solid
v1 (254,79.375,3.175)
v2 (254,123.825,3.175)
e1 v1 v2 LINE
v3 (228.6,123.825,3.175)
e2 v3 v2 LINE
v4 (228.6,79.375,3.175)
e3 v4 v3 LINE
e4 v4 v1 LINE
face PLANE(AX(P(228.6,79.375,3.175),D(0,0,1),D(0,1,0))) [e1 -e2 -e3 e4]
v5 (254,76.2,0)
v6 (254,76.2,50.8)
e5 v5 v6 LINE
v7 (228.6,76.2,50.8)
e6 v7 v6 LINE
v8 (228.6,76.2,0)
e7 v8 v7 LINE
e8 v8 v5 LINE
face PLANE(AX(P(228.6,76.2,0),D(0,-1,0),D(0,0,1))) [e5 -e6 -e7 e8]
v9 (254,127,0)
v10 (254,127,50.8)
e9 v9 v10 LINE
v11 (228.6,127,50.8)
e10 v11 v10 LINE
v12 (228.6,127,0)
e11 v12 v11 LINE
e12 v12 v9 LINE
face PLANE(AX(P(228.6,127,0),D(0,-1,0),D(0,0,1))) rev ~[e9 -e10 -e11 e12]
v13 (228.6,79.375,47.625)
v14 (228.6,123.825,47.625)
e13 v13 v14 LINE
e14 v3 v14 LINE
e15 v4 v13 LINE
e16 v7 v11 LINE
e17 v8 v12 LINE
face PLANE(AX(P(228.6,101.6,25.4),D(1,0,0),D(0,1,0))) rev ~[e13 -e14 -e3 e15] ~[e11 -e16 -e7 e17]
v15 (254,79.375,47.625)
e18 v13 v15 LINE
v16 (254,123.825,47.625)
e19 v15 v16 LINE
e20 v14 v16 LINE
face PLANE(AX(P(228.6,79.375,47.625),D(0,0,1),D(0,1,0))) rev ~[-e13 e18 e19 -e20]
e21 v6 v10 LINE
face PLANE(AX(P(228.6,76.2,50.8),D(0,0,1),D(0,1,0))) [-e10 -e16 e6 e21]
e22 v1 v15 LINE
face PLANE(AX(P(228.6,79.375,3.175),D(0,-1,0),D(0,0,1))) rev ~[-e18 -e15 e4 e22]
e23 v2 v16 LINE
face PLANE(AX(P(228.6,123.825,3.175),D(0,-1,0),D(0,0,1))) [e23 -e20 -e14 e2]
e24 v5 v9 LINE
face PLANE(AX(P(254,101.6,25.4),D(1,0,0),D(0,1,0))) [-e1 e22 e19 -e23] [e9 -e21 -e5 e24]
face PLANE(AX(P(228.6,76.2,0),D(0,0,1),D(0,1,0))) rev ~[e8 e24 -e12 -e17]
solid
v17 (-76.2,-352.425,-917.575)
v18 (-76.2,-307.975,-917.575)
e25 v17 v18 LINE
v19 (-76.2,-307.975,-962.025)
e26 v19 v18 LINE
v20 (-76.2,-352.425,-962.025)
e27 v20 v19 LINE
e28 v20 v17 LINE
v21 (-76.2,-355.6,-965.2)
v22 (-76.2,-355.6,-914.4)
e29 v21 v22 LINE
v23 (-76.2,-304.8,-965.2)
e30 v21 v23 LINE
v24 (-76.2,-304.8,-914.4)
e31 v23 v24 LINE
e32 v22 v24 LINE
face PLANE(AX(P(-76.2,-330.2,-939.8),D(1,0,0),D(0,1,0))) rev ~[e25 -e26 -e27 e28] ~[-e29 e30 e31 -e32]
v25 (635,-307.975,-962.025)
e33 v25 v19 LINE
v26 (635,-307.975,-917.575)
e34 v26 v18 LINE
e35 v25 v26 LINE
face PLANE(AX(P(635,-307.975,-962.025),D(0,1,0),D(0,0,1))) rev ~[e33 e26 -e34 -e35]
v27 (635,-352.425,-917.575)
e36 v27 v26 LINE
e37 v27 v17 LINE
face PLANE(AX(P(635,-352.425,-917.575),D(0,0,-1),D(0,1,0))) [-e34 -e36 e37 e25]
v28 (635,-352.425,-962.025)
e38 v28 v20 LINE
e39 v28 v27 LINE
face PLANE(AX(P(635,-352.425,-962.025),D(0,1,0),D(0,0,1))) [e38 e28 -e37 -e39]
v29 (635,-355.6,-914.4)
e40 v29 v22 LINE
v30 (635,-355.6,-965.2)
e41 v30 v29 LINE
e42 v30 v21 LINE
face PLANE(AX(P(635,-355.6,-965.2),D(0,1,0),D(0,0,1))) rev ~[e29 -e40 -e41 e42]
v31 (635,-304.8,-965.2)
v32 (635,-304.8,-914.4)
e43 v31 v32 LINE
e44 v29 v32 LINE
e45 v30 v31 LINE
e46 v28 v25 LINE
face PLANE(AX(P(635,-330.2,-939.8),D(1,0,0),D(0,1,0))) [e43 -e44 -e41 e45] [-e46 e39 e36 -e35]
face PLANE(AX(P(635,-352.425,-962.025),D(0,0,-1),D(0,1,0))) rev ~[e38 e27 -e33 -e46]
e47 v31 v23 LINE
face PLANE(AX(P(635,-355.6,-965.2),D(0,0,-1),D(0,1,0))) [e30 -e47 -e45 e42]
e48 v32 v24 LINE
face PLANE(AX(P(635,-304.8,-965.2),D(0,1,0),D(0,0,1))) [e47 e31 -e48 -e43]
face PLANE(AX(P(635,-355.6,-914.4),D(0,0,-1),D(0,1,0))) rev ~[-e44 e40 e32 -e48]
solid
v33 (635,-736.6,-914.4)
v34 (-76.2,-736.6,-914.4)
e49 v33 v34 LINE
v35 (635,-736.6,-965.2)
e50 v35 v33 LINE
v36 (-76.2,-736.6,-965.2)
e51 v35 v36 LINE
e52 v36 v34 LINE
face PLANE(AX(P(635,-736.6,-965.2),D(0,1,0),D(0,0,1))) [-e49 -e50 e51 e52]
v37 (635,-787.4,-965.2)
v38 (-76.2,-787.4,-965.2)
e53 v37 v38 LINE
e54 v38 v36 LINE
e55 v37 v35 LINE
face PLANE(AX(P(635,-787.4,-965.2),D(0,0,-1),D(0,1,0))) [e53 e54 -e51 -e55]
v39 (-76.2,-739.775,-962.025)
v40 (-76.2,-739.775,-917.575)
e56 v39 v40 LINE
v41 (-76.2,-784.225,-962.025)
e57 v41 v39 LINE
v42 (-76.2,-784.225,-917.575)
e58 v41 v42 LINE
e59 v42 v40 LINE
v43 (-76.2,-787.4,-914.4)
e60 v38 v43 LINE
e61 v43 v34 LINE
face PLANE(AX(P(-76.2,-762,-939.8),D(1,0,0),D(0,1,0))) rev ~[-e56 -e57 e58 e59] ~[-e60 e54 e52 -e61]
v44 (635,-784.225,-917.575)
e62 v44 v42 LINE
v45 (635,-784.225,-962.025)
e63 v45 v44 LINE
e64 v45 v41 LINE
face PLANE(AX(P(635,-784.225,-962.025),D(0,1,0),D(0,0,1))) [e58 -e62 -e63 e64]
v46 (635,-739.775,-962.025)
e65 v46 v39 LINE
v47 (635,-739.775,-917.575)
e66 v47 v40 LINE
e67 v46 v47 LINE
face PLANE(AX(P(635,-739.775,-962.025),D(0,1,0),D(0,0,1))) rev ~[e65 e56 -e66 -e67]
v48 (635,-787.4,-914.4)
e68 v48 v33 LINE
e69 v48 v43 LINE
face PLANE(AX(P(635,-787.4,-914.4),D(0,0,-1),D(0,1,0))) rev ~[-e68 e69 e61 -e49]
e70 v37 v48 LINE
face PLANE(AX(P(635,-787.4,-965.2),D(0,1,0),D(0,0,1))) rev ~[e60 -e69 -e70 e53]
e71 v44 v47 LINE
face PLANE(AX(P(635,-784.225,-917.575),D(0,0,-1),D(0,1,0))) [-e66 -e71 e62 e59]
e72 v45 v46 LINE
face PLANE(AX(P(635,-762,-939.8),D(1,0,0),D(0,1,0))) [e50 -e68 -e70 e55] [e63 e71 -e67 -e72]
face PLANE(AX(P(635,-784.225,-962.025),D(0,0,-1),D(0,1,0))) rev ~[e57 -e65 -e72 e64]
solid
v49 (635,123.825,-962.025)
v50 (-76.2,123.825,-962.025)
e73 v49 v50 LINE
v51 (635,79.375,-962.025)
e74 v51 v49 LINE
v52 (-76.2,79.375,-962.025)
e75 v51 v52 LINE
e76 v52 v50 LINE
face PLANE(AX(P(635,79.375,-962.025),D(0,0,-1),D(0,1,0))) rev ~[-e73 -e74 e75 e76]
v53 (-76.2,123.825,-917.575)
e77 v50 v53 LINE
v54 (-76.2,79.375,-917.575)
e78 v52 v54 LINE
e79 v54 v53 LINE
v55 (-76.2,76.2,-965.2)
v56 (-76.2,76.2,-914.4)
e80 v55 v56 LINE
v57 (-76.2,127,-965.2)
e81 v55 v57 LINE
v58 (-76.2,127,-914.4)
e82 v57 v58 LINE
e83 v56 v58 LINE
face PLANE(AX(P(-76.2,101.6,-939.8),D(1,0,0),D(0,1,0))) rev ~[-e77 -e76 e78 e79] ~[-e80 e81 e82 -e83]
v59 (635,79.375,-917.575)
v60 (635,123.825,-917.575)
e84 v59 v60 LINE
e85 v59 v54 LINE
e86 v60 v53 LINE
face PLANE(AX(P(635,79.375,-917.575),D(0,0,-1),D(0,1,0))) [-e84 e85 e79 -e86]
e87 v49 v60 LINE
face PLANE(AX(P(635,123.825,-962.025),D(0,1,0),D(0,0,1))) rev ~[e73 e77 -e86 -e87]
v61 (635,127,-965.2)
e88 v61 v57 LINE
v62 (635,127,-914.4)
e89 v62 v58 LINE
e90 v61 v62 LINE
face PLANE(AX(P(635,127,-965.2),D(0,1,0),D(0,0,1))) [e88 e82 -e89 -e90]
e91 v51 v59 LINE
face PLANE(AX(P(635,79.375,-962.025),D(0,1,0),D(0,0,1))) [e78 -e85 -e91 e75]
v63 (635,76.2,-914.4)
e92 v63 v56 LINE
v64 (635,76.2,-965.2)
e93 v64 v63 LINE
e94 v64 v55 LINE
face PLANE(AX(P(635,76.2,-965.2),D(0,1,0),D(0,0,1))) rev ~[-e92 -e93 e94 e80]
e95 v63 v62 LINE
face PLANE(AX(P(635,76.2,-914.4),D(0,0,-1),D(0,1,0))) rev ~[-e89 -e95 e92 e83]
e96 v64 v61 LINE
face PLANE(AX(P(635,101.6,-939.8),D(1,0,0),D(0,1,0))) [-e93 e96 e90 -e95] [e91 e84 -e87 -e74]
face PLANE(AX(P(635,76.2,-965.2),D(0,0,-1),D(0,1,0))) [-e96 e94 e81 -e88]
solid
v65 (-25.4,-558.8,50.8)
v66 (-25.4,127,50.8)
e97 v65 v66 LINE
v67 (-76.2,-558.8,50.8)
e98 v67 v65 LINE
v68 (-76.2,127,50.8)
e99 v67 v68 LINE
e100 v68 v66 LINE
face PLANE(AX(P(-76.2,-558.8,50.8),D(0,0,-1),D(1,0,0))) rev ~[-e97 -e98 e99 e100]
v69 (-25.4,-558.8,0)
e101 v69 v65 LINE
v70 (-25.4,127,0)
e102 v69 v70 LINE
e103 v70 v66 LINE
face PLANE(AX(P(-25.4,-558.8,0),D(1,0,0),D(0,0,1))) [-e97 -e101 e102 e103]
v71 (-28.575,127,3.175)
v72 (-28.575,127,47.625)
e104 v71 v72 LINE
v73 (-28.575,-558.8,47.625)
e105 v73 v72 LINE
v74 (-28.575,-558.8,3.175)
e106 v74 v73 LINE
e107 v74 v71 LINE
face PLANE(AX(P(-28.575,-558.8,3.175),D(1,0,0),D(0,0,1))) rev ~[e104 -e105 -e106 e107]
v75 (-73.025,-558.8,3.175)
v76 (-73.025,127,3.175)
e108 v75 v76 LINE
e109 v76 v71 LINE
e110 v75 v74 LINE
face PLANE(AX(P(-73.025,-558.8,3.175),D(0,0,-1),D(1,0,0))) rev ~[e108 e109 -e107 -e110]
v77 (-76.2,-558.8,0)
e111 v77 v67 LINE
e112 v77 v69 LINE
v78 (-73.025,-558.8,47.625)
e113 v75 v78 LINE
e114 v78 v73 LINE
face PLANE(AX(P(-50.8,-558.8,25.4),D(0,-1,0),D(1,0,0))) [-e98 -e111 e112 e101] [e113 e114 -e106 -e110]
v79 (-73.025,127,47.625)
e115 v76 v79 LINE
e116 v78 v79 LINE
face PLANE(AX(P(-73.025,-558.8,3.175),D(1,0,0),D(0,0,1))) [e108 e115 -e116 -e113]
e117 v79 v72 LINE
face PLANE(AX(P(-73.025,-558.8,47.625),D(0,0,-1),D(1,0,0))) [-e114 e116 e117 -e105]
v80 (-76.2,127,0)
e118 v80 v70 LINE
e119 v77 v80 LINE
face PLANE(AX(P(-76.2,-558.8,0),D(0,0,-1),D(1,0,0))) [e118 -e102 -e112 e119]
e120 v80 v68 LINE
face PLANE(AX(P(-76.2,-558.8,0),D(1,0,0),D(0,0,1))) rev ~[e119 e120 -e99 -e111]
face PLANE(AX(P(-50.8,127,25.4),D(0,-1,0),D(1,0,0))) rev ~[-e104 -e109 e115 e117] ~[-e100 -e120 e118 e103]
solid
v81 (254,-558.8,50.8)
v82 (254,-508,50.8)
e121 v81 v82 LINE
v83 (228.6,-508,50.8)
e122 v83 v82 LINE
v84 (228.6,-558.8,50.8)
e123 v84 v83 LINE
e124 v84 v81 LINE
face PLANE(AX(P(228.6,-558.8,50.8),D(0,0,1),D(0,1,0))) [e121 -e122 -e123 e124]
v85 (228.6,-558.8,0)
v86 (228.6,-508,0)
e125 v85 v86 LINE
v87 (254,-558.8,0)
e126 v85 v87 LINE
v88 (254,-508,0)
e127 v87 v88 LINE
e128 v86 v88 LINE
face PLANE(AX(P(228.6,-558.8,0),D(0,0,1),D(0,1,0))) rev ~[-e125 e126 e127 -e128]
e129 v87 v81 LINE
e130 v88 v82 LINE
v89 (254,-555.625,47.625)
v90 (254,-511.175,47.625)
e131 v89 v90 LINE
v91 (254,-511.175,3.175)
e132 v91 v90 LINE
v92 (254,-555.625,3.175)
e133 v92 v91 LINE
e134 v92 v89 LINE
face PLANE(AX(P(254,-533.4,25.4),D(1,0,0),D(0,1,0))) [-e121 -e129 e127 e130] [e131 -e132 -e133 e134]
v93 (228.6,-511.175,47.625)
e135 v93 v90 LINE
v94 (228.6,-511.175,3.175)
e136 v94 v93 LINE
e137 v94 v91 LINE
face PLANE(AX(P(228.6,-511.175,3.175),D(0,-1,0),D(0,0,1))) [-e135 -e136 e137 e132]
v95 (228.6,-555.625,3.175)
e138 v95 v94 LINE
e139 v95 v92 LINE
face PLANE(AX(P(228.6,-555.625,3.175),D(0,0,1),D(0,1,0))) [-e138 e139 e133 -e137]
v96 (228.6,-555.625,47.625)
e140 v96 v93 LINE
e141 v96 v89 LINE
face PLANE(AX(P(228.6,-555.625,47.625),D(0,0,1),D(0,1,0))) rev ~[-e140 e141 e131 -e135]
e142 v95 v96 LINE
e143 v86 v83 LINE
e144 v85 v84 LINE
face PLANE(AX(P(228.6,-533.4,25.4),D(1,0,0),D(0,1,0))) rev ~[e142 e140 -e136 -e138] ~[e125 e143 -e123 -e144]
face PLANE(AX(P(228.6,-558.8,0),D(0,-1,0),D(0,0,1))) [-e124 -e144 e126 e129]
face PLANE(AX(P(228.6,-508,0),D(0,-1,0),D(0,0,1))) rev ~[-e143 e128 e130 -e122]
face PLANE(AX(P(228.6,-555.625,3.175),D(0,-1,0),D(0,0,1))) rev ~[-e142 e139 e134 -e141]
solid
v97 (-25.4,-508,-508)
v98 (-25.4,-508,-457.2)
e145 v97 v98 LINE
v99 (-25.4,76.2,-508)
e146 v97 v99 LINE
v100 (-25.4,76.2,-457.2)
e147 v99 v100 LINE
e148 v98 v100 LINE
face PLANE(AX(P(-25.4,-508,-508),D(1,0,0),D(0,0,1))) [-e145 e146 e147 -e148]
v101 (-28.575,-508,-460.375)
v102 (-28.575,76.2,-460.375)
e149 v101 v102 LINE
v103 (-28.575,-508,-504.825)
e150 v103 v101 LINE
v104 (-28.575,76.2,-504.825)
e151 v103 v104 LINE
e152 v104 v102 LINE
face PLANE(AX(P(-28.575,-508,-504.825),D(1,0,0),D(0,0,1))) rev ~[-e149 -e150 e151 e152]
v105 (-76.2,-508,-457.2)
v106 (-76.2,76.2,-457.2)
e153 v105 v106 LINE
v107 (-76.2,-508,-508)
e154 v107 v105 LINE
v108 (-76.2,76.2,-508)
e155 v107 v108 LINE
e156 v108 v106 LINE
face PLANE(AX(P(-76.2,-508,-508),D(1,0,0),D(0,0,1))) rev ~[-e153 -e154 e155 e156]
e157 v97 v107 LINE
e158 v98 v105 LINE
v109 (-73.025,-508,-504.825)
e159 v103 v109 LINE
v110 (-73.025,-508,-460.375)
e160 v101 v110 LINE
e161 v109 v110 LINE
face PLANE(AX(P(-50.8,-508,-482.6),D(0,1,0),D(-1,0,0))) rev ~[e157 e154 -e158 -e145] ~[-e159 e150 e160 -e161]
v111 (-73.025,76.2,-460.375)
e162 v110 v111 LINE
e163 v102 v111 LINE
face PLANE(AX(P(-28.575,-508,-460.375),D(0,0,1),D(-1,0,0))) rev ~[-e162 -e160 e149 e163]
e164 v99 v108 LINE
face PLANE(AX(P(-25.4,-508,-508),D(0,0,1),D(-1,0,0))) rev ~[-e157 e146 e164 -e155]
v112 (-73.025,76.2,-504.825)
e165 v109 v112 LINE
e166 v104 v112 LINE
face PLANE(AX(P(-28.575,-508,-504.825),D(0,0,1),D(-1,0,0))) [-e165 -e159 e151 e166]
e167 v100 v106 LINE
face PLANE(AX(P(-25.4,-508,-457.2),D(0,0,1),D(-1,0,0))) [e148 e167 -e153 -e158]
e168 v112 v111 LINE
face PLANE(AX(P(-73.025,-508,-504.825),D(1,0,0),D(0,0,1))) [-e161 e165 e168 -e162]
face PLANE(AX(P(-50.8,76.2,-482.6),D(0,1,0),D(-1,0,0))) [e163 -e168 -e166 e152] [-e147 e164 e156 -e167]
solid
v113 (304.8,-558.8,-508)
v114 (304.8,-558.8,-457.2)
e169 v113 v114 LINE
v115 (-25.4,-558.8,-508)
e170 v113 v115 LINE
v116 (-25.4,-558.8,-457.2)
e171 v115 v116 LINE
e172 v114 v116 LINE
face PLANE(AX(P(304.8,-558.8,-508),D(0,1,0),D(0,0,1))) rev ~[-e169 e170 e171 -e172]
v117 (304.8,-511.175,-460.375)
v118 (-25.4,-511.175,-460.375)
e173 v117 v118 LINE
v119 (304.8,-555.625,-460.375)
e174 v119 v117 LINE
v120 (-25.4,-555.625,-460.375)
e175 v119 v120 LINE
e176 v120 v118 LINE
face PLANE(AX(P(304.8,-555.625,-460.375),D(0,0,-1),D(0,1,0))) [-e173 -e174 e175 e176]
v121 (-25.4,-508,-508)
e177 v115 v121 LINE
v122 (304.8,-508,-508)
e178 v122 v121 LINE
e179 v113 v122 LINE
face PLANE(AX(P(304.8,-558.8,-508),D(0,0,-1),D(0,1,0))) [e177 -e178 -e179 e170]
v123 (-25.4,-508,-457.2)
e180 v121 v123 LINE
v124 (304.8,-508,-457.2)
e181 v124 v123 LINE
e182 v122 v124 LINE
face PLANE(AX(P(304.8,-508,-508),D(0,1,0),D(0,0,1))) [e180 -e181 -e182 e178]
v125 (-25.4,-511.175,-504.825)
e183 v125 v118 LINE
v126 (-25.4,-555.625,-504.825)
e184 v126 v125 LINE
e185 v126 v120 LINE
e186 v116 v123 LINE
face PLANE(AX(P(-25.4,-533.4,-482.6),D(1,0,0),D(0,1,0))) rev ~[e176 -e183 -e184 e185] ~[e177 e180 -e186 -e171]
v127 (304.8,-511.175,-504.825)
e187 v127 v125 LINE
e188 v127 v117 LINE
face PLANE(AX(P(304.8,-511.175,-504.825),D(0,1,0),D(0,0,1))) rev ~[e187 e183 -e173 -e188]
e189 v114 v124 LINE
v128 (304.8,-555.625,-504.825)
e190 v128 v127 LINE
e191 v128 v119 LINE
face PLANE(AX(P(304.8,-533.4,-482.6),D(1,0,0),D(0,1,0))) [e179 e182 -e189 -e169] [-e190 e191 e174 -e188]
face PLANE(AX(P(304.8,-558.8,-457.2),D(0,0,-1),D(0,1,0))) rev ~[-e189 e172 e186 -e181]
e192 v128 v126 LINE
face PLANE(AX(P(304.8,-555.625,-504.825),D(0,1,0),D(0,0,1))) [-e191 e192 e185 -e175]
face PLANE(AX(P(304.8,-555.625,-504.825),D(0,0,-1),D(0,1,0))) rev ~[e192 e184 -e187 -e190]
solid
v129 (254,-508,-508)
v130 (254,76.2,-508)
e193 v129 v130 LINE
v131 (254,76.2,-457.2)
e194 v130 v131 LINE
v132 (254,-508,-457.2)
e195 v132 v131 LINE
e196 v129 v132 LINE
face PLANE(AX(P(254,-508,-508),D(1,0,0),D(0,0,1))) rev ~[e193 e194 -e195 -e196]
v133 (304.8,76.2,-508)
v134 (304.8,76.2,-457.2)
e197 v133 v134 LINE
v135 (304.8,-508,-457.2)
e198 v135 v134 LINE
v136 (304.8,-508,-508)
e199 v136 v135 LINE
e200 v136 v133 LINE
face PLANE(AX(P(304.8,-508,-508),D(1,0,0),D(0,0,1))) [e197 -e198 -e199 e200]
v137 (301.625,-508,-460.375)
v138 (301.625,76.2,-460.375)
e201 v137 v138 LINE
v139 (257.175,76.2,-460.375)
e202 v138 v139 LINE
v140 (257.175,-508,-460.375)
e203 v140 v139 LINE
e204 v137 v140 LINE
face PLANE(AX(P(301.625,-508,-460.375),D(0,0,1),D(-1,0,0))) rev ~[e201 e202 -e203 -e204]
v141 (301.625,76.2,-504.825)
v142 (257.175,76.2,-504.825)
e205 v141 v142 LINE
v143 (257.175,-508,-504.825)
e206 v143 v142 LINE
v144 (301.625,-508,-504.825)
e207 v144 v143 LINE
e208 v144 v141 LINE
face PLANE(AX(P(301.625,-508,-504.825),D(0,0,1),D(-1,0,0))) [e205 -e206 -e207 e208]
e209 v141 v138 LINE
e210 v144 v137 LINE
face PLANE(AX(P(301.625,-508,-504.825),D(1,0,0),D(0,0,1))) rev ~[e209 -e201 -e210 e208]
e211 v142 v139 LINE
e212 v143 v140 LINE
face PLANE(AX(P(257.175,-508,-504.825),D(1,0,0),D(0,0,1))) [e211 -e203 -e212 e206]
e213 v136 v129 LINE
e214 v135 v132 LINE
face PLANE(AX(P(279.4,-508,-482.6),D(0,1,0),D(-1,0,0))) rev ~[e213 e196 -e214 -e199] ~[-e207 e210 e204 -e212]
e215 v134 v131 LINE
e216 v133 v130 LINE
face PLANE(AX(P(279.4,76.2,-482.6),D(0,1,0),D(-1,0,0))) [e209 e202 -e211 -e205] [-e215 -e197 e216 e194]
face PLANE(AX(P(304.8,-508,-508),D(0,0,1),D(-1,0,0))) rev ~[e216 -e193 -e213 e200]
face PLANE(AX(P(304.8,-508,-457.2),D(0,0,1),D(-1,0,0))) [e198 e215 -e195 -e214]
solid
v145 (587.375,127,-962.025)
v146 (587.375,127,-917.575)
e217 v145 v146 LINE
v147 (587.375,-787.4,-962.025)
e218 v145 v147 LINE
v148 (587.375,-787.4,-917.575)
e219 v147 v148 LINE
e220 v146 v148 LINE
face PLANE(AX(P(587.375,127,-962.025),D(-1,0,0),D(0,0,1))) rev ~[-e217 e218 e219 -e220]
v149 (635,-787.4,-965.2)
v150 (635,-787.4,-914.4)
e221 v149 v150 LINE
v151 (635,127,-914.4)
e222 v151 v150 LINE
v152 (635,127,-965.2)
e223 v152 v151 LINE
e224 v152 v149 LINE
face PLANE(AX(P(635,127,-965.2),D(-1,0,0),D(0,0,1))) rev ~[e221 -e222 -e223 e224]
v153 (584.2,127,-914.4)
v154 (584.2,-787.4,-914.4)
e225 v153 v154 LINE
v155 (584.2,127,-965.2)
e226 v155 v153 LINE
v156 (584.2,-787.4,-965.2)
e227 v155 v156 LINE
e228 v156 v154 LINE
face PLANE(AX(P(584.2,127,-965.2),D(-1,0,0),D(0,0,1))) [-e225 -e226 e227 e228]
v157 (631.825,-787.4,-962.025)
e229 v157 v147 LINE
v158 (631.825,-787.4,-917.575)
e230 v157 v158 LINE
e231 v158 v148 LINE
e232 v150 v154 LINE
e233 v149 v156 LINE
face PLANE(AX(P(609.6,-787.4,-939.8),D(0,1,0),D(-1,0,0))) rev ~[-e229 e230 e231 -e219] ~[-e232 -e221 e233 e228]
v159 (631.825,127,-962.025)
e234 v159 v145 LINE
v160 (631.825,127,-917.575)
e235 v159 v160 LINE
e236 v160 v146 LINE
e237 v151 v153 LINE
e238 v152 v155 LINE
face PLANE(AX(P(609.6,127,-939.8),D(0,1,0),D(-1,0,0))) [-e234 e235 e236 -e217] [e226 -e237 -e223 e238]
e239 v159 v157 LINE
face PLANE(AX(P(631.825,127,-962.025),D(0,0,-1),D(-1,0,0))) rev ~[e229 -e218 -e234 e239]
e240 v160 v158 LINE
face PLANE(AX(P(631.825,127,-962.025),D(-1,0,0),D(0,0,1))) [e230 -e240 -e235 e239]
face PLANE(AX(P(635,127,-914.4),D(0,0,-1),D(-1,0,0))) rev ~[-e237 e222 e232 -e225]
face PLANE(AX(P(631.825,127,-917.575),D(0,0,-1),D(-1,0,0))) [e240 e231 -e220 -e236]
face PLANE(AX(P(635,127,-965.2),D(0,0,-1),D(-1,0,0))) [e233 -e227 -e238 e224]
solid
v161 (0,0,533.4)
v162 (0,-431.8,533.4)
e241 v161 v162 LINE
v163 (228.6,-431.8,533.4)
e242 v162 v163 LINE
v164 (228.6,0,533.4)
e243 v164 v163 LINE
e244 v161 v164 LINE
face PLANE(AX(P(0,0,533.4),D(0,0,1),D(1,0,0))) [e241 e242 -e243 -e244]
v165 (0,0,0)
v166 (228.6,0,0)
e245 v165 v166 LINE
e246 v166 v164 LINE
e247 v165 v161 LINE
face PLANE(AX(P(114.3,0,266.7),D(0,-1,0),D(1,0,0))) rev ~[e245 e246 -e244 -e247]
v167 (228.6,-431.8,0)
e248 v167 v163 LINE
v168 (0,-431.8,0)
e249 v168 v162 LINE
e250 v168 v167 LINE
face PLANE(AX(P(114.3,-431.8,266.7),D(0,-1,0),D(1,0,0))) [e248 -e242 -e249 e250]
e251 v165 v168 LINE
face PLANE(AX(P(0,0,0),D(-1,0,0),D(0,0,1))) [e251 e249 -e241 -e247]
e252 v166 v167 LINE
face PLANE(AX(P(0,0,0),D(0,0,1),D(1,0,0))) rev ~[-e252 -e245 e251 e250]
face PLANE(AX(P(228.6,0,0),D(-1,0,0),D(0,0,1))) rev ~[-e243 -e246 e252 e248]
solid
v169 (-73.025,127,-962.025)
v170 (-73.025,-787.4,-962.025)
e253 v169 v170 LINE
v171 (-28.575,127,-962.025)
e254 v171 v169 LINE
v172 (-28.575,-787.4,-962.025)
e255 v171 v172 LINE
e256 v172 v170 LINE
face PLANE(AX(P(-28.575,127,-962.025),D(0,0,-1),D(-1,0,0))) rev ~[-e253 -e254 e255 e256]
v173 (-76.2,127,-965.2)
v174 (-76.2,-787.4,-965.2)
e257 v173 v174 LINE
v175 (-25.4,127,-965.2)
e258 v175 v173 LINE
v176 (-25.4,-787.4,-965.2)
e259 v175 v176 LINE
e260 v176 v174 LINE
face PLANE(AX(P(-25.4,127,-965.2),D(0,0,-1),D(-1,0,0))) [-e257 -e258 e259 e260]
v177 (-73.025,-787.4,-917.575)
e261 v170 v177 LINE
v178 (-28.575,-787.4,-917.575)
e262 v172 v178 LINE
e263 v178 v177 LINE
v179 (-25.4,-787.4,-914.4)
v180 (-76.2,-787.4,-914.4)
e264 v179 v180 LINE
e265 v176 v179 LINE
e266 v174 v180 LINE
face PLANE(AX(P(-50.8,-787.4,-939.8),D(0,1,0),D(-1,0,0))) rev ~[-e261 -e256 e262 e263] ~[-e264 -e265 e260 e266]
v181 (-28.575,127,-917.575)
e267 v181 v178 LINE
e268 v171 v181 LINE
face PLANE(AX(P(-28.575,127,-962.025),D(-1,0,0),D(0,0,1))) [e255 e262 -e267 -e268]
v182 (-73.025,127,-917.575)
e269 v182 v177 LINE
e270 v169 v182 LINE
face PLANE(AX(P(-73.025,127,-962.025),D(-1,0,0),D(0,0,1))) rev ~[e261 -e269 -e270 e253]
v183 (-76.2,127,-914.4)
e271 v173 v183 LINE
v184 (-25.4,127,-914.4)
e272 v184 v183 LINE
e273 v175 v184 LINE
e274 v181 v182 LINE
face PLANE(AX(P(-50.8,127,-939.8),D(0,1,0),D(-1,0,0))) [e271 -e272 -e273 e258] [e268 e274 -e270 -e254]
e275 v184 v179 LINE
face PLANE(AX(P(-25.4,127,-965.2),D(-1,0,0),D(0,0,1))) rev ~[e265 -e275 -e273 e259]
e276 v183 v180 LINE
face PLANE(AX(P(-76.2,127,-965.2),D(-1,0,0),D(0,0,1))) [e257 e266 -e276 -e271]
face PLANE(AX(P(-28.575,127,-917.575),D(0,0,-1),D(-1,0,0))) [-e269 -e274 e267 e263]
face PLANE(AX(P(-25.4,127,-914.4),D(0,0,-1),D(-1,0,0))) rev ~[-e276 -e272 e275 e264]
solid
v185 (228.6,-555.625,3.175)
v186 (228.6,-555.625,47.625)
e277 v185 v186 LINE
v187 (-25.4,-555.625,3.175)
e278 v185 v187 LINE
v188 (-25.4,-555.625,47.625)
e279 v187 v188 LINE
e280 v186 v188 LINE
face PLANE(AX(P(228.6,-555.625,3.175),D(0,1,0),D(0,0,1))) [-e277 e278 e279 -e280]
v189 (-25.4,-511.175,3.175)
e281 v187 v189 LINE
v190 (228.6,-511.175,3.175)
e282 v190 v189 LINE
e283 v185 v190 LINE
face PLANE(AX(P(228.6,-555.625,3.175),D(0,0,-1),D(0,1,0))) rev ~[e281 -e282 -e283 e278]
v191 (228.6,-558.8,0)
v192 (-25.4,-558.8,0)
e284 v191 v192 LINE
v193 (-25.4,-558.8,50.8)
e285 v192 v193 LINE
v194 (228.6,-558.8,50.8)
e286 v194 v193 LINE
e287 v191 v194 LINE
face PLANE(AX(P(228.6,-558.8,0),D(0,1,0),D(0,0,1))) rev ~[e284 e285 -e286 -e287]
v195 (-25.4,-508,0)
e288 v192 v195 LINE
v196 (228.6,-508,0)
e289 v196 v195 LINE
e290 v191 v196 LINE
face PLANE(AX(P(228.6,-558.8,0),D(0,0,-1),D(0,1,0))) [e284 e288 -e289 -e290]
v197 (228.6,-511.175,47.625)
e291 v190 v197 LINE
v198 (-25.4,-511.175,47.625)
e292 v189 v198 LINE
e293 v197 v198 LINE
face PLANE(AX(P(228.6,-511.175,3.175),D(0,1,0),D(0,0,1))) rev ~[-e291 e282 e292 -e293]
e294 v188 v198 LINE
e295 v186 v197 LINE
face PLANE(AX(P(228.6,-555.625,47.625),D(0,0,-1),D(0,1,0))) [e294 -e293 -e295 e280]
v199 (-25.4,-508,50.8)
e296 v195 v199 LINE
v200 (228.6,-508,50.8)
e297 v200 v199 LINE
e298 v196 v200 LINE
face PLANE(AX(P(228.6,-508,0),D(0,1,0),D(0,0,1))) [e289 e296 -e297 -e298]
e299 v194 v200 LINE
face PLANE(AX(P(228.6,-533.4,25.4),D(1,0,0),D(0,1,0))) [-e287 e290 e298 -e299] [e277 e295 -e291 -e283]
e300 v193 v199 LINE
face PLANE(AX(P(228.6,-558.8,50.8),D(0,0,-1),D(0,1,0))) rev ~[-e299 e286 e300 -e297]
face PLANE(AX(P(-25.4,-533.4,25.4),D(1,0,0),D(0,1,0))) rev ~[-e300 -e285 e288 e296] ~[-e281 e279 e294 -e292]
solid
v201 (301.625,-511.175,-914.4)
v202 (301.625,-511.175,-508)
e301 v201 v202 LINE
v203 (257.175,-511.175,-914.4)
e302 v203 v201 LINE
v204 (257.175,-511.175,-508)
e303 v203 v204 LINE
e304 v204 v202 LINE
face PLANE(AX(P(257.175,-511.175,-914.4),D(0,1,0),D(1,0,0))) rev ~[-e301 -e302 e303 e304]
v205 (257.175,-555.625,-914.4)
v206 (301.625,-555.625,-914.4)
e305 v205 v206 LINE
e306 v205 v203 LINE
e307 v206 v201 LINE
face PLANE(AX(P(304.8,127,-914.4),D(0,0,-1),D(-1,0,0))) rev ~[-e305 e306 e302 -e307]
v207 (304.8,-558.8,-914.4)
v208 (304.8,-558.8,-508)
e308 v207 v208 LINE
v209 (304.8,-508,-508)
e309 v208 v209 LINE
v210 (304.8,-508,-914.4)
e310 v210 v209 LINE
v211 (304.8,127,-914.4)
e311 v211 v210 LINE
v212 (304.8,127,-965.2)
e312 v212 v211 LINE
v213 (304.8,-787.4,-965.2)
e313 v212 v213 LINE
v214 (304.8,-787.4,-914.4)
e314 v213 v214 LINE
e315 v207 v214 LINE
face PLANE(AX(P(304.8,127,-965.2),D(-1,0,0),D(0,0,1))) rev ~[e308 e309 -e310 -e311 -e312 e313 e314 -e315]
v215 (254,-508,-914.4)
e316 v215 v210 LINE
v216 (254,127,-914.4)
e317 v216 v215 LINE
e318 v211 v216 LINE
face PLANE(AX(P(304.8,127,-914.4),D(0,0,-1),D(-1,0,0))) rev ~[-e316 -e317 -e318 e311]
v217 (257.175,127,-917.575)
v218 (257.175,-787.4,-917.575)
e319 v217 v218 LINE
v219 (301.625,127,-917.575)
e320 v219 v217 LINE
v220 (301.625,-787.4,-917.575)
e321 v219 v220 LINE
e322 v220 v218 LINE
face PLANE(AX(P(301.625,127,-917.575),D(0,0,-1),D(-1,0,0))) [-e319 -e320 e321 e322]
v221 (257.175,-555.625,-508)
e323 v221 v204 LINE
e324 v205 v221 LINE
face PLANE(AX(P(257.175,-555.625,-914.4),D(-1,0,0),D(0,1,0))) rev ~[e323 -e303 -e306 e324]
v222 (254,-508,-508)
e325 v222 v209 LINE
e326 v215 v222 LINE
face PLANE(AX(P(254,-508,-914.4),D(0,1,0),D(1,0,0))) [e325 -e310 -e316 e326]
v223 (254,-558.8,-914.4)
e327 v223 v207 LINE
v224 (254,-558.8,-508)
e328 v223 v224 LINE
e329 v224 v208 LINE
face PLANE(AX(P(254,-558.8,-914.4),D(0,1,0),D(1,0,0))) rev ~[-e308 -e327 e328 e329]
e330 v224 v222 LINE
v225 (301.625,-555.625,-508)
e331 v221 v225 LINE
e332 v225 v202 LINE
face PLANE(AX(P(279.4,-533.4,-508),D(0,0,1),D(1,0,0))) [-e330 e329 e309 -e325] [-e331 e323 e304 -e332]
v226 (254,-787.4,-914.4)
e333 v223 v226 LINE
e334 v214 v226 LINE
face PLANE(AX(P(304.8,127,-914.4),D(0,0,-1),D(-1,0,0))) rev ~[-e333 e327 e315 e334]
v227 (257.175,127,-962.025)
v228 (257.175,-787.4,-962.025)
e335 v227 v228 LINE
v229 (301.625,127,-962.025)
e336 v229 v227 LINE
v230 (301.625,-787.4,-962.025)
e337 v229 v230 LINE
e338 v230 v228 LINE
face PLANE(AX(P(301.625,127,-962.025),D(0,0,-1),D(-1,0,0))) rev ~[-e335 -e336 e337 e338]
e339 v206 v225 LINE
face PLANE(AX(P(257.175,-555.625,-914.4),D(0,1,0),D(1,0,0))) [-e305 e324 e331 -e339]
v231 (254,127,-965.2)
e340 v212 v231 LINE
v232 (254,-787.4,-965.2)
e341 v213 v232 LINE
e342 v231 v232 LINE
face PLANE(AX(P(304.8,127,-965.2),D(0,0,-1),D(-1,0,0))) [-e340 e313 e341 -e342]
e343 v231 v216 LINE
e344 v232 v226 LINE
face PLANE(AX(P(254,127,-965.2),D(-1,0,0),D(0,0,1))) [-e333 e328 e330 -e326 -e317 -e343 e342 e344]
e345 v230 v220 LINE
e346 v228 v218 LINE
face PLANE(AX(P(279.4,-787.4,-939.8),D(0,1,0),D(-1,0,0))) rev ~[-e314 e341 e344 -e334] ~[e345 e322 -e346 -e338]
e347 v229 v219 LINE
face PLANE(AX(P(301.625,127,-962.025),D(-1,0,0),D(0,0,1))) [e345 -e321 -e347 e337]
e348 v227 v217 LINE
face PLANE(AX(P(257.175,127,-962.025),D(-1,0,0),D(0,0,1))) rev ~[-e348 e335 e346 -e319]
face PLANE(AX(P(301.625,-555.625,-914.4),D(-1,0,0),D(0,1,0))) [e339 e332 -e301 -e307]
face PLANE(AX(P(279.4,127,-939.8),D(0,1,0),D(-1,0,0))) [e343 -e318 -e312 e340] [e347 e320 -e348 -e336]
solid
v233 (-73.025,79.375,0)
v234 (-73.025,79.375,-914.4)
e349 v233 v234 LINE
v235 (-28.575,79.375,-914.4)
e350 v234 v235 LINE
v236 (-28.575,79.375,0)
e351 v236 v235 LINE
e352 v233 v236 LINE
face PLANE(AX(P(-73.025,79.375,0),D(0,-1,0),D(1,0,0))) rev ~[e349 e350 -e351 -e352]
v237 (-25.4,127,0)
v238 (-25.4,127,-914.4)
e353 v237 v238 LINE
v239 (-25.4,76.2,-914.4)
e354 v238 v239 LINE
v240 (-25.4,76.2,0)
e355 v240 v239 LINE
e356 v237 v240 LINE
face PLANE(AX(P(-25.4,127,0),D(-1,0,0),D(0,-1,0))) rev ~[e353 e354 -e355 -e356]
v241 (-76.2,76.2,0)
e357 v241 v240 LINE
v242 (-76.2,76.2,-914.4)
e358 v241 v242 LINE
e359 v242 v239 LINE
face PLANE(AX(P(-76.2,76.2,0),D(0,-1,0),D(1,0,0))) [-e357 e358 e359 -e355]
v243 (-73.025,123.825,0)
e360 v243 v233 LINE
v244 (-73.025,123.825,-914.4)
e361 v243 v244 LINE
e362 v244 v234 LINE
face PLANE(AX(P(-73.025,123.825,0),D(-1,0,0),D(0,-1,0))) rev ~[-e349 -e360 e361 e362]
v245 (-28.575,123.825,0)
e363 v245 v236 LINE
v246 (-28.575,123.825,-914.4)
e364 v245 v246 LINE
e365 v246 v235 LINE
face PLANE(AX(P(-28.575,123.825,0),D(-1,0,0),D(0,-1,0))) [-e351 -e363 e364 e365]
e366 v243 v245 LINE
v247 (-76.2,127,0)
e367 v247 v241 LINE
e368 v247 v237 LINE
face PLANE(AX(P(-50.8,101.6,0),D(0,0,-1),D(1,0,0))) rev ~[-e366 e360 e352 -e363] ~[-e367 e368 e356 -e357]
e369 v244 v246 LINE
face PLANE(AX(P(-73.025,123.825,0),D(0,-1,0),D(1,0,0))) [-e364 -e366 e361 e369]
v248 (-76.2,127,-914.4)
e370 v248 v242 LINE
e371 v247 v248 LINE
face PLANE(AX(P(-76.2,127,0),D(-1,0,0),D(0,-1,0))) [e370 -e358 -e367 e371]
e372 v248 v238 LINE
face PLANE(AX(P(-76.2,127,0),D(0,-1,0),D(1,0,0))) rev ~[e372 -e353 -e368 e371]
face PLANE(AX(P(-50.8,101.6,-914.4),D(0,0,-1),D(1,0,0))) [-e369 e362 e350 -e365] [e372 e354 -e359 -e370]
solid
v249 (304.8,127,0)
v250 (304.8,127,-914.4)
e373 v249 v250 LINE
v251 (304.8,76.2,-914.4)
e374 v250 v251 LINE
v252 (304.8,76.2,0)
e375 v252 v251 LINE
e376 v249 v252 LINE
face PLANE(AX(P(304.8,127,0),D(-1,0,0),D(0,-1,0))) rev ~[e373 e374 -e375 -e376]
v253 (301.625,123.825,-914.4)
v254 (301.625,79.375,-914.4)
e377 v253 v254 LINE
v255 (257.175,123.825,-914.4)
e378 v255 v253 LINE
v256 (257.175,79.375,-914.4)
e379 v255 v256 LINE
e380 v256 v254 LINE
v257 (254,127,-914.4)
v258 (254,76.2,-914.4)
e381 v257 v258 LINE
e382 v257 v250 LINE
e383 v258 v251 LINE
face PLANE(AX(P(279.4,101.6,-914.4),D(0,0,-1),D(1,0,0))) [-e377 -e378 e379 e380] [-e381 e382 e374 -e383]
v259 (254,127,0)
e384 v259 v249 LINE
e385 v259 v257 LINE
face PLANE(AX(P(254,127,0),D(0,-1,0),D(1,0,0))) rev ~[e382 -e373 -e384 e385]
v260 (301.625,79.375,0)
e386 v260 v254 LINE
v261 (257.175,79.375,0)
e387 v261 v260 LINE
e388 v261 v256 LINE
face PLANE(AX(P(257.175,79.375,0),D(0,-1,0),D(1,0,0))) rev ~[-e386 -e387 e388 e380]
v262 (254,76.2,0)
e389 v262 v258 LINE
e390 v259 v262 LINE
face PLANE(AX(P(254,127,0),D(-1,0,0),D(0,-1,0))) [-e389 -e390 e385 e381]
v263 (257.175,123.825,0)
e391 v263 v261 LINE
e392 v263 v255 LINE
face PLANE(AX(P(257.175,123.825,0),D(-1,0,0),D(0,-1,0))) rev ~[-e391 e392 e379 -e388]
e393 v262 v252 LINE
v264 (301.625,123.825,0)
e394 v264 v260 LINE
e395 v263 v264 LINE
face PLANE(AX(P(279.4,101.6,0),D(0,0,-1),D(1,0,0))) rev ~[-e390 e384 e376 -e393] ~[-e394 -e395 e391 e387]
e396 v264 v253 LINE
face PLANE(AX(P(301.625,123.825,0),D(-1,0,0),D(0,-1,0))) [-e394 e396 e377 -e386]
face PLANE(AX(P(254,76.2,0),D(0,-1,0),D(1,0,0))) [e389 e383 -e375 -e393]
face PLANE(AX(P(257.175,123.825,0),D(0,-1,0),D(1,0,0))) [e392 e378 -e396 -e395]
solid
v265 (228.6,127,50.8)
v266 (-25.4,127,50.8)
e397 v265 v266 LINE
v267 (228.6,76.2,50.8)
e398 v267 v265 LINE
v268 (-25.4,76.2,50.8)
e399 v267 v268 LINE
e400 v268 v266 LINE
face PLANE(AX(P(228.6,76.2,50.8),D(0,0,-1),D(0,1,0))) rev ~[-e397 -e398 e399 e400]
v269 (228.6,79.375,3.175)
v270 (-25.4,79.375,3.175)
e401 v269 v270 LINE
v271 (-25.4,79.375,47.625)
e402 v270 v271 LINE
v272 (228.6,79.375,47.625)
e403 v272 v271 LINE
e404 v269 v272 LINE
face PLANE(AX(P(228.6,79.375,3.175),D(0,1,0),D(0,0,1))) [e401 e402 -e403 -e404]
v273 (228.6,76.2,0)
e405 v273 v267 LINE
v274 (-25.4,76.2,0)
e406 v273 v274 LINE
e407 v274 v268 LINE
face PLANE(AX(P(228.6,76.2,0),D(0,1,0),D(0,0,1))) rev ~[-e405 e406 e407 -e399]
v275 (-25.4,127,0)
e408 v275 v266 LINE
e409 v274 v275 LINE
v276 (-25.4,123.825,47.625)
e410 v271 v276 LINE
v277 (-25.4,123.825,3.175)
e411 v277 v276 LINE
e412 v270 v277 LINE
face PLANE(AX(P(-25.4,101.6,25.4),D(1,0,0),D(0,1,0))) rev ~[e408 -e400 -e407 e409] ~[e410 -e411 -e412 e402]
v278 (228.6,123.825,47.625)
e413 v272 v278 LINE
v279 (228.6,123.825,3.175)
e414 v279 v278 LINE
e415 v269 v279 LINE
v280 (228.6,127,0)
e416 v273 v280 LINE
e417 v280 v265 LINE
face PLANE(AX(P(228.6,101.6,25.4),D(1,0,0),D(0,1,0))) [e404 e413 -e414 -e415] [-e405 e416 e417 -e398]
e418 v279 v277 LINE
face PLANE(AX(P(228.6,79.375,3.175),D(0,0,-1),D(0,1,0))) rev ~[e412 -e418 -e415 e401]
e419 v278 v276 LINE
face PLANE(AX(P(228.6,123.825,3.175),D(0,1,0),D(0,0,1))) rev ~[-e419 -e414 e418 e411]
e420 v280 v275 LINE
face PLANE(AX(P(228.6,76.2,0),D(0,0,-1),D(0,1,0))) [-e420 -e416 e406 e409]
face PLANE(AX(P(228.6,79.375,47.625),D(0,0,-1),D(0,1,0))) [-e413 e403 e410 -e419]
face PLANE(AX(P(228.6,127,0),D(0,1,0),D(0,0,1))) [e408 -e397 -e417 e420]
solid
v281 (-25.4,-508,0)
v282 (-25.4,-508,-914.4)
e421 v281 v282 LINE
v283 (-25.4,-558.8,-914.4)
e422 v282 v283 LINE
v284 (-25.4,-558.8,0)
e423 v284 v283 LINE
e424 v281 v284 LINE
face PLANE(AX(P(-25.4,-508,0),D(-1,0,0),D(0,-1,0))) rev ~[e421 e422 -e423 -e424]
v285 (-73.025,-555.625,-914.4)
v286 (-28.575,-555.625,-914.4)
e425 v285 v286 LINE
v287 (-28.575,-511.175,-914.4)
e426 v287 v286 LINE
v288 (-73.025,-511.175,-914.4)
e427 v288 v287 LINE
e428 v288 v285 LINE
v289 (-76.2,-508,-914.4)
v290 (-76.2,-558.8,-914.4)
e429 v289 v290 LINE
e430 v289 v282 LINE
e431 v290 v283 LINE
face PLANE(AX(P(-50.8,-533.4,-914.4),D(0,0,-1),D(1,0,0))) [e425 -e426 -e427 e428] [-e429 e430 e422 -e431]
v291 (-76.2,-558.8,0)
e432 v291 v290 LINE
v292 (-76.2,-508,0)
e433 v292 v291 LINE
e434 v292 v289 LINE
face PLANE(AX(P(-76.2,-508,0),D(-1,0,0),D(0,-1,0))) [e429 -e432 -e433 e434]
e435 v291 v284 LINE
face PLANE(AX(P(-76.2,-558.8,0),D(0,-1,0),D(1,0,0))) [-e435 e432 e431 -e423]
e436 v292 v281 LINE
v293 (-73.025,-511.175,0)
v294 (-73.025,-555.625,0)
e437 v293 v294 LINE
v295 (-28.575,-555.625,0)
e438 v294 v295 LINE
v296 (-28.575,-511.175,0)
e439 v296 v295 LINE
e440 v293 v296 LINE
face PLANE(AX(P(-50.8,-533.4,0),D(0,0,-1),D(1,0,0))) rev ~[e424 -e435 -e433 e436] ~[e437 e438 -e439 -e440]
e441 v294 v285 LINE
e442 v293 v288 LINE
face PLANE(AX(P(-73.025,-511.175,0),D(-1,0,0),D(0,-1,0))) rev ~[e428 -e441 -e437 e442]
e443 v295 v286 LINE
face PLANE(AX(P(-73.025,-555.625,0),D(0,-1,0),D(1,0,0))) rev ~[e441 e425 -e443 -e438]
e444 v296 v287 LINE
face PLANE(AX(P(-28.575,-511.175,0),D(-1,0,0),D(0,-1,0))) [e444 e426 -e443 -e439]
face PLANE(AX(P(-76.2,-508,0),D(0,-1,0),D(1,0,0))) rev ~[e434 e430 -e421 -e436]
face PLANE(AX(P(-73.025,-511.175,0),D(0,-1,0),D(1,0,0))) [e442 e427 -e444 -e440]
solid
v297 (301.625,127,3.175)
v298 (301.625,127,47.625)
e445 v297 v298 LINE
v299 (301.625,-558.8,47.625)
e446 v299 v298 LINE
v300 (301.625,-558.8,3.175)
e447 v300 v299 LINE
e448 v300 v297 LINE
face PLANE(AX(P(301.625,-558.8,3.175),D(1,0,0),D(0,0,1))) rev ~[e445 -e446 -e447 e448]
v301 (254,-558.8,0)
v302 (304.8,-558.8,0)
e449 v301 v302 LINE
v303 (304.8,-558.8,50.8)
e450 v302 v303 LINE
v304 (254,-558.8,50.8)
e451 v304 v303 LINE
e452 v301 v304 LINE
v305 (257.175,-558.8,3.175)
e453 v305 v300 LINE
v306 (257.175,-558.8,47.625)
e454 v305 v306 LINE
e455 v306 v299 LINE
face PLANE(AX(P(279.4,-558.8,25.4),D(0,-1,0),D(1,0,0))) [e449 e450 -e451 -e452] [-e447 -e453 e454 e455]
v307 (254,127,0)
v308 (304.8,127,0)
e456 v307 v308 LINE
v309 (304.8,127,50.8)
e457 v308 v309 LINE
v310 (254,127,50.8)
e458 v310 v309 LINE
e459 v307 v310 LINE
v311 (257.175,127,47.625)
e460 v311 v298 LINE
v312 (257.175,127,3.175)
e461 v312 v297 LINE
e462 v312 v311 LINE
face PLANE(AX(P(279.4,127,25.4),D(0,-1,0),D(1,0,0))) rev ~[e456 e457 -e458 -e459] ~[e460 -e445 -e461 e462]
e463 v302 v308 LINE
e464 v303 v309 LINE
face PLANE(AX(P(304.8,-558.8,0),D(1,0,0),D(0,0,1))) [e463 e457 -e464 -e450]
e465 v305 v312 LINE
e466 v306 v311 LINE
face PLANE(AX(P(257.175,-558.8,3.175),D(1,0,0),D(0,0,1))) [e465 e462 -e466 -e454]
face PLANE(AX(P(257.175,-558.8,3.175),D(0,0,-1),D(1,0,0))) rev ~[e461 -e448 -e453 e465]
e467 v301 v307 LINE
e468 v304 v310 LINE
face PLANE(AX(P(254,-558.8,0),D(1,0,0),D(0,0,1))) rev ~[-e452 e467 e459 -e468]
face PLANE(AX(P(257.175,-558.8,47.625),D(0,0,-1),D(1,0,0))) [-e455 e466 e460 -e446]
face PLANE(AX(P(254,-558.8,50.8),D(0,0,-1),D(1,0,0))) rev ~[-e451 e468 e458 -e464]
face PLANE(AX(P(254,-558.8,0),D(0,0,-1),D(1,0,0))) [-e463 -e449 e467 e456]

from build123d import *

# Parameters (mm, degrees)
F0_W      = 228.6
F0_H      = 533.4
F1_DEPTH  = 431.8
F2_W      = 50.8
F2_H      = 50.8
F2_W_2    = 44.45
F2_H_2    = 44.45
F3_DEPTH  = 254
F4_DEPTH  = 25.4
F5_W      = 50.8
F5_H      = 50.8
F5_W_2    = 44.45
F5_H_2    = 44.45
F6_DEPTH  = 685.8
F7_W      = 50.8
F7_H      = 50.8
F7_W_2    = 44.45
F7_H_2    = 44.45
F8_DEPTH  = 914.4
F9_W      = 50.8
F9_H      = 50.8
F9_W_2    = 44.45
F9_H_2    = 44.45
F10_DEPTH = 914.4
F11_W     = 50.8
F11_H     = 50.8
F11_W_2   = 44.45
F11_H_2   = 44.45
F12_DEPTH = 711.2
F13_W     = 50.8
F13_H     = 50.8
F13_W_2   = 44.45
F13_H_2   = 44.45
F14_DEPTH = 406.4
F15_W     = 50.8
F15_H     = 50.8
F15_W_2   = 44.45
F15_H_2   = 44.45
F16_DEPTH = 330.2
F17_W     = 50.8
F17_H     = 50.8
F17_W_2   = 44.45
F17_H_2   = 44.45
F18_DEPTH = 584.2


with BuildPart() as f1:
    # F0 (on Front) → F1 (new body)
    with BuildSketch(Plane.XZ):
        with Locations((114.3, 266.7)):
            Rectangle(F0_W, F0_H)
    extrude(amount=F1_DEPTH)


with BuildPart() as f3:
    # F2 (on face) → F3 (new body)
    with BuildSketch(Plane.YZ.offset(228.6)):
        with Locations((-533.4, 25.4)):
            Rectangle(F2_W, F2_H)
        with Locations((-533.4, 25.4)):
            Rectangle(F2_W_2, F2_H_2, mode=Mode.SUBTRACT)
        with Locations((101.6, 25.4)):
            Rectangle(F2_W, F2_H)
        with Locations((101.6, 25.4)):
            Rectangle(F2_W_2, F2_H_2, mode=Mode.SUBTRACT)
    extrude(amount=-F3_DEPTH)


with BuildPart() as f4:
    # F2 (on face) → F4 (new body)
    with BuildSketch(Plane.YZ.offset(228.6)):
        with Locations((-533.4, 25.4)):
            Rectangle(F2_W, F2_H)
        with Locations((-533.4, 25.4)):
            Rectangle(F2_W_2, F2_H_2, mode=Mode.SUBTRACT)
        with Locations((101.6, 25.4)):
            Rectangle(F2_W, F2_H)
        with Locations((101.6, 25.4)):
            Rectangle(F2_W_2, F2_H_2, mode=Mode.SUBTRACT)
    extrude(amount=F4_DEPTH)


with BuildPart() as f6:
    # F5 (on face) → F6 (new body)
    with BuildSketch(Plane.XZ.offset(558.8)):
        with Locations((279.4, 25.4)):
            Rectangle(F5_W, F5_H)
        with Locations((279.4, 25.4)):
            Rectangle(F5_W_2, F5_H_2, mode=Mode.SUBTRACT)
        with Locations((-50.8, 25.4)):
            Rectangle(F5_W, F5_H)
        with Locations((-50.8, 25.4)):
            Rectangle(F5_W_2, F5_H_2, mode=Mode.SUBTRACT)
    extrude(amount=-F6_DEPTH)


with BuildPart() as f8:
    # F7 (on face) → F8 (new body)
    with BuildSketch(Plane(origin=(0, 0, 0), x_dir=(1, 0, 0), z_dir=(0, 0, -1))):
        with Locations((-50.8, -101.6)):
            Rectangle(F7_W, F7_H)
        with Locations((-50.8, -101.6)):
            Rectangle(F7_W_2, F7_H_2, mode=Mode.SUBTRACT)
        with Locations((279.4, -101.6)):
            Rectangle(F7_W, F7_H)
        with Locations((279.4, -101.6)):
            Rectangle(F7_W_2, F7_H_2, mode=Mode.SUBTRACT)
        with Locations((-50.8, 533.4)):
            Rectangle(F7_W, F7_H)
        with Locations((-50.8, 533.4)):
            Rectangle(F7_W_2, F7_H_2, mode=Mode.SUBTRACT)
    extrude(amount=F8_DEPTH)


with BuildPart() as f10:
    # F9 (on face) → F10 (new body)
    with BuildSketch(Plane(origin=(0, 127, 0), x_dir=(-1, 0, 0), z_dir=(0, 1, 0))):
        with Locations((50.8, -939.8)):
            Rectangle(F9_W, F9_H)
        with Locations((50.8, -939.8)):
            Rectangle(F9_W_2, F9_H_2, mode=Mode.SUBTRACT)
        with Locations((-279.4, -939.8)):
            Rectangle(F9_W, F9_H)
        with Locations((-279.4, -939.8)):
            Rectangle(F9_W_2, F9_H_2, mode=Mode.SUBTRACT)
        with Locations((-609.6, -939.8)):
            Rectangle(F9_W, F9_H)
        with Locations((-609.6, -939.8)):
            Rectangle(F9_W_2, F9_H_2, mode=Mode.SUBTRACT)
    extrude(amount=-F10_DEPTH)

    # F13 (on face) → F14 (join)
    with BuildSketch(Plane.XY.offset(-914.4)):
        with Locations((279.4, -533.4)):
            Rectangle(F13_W, F13_H)
        with Locations((279.4, -533.4)):
            Rectangle(F13_W_2, F13_H_2, mode=Mode.SUBTRACT)
    extrude(amount=F14_DEPTH)


with BuildPart() as f12:
    # F11 (on face) → F12 (new body)
    with BuildSketch(Plane.YZ.offset(635)):
        with Locations((101.6, -939.8)):
            Rectangle(F11_W, F11_H)
        with Locations((101.6, -939.8)):
            Rectangle(F11_W_2, F11_H_2, mode=Mode.SUBTRACT)
        with Locations((-330.2, -939.8)):
            Rectangle(F11_W, F11_H)
        with Locations((-330.2, -939.8)):
            Rectangle(F11_W_2, F11_H_2, mode=Mode.SUBTRACT)
        with Locations((-762, -939.8)):
            Rectangle(F11_W, F11_H)
        with Locations((-762, -939.8)):
            Rectangle(F11_W_2, F11_H_2, mode=Mode.SUBTRACT)
    extrude(amount=-F12_DEPTH)


with BuildPart() as f16:
    # F15 (on face) → F16 (new body)
    with BuildSketch(Plane.YZ.offset(304.8)):
        with Locations((-533.4, -482.6)):
            Rectangle(F15_W, F15_H)
        with Locations((-533.4, -482.6)):
            Rectangle(F15_W_2, F15_H_2, mode=Mode.SUBTRACT)
    extrude(amount=-F16_DEPTH)


with BuildPart() as f18:
    # F17 (on face) → F18 (new body)
    with BuildSketch(Plane(origin=(0, -508, 0), x_dir=(-1, 0, 0), z_dir=(0, 1, 0))):
        with Locations((-279.4, -482.6)):
            Rectangle(F17_W, F17_H)
        with Locations((-279.4, -482.6)):
            Rectangle(F17_W_2, F17_H_2, mode=Mode.SUBTRACT)
        with Locations((50.8, -482.6)):
            Rectangle(F17_W, F17_H)
        with Locations((50.8, -482.6)):
            Rectangle(F17_W_2, F17_H_2, mode=Mode.SUBTRACT)
    extrude(amount=F18_DEPTH)


solid = Compound([f1.part, f3.part, f4.part, f6.part, f8.part, f10.part, f12.part, f16.part, f18.part])
